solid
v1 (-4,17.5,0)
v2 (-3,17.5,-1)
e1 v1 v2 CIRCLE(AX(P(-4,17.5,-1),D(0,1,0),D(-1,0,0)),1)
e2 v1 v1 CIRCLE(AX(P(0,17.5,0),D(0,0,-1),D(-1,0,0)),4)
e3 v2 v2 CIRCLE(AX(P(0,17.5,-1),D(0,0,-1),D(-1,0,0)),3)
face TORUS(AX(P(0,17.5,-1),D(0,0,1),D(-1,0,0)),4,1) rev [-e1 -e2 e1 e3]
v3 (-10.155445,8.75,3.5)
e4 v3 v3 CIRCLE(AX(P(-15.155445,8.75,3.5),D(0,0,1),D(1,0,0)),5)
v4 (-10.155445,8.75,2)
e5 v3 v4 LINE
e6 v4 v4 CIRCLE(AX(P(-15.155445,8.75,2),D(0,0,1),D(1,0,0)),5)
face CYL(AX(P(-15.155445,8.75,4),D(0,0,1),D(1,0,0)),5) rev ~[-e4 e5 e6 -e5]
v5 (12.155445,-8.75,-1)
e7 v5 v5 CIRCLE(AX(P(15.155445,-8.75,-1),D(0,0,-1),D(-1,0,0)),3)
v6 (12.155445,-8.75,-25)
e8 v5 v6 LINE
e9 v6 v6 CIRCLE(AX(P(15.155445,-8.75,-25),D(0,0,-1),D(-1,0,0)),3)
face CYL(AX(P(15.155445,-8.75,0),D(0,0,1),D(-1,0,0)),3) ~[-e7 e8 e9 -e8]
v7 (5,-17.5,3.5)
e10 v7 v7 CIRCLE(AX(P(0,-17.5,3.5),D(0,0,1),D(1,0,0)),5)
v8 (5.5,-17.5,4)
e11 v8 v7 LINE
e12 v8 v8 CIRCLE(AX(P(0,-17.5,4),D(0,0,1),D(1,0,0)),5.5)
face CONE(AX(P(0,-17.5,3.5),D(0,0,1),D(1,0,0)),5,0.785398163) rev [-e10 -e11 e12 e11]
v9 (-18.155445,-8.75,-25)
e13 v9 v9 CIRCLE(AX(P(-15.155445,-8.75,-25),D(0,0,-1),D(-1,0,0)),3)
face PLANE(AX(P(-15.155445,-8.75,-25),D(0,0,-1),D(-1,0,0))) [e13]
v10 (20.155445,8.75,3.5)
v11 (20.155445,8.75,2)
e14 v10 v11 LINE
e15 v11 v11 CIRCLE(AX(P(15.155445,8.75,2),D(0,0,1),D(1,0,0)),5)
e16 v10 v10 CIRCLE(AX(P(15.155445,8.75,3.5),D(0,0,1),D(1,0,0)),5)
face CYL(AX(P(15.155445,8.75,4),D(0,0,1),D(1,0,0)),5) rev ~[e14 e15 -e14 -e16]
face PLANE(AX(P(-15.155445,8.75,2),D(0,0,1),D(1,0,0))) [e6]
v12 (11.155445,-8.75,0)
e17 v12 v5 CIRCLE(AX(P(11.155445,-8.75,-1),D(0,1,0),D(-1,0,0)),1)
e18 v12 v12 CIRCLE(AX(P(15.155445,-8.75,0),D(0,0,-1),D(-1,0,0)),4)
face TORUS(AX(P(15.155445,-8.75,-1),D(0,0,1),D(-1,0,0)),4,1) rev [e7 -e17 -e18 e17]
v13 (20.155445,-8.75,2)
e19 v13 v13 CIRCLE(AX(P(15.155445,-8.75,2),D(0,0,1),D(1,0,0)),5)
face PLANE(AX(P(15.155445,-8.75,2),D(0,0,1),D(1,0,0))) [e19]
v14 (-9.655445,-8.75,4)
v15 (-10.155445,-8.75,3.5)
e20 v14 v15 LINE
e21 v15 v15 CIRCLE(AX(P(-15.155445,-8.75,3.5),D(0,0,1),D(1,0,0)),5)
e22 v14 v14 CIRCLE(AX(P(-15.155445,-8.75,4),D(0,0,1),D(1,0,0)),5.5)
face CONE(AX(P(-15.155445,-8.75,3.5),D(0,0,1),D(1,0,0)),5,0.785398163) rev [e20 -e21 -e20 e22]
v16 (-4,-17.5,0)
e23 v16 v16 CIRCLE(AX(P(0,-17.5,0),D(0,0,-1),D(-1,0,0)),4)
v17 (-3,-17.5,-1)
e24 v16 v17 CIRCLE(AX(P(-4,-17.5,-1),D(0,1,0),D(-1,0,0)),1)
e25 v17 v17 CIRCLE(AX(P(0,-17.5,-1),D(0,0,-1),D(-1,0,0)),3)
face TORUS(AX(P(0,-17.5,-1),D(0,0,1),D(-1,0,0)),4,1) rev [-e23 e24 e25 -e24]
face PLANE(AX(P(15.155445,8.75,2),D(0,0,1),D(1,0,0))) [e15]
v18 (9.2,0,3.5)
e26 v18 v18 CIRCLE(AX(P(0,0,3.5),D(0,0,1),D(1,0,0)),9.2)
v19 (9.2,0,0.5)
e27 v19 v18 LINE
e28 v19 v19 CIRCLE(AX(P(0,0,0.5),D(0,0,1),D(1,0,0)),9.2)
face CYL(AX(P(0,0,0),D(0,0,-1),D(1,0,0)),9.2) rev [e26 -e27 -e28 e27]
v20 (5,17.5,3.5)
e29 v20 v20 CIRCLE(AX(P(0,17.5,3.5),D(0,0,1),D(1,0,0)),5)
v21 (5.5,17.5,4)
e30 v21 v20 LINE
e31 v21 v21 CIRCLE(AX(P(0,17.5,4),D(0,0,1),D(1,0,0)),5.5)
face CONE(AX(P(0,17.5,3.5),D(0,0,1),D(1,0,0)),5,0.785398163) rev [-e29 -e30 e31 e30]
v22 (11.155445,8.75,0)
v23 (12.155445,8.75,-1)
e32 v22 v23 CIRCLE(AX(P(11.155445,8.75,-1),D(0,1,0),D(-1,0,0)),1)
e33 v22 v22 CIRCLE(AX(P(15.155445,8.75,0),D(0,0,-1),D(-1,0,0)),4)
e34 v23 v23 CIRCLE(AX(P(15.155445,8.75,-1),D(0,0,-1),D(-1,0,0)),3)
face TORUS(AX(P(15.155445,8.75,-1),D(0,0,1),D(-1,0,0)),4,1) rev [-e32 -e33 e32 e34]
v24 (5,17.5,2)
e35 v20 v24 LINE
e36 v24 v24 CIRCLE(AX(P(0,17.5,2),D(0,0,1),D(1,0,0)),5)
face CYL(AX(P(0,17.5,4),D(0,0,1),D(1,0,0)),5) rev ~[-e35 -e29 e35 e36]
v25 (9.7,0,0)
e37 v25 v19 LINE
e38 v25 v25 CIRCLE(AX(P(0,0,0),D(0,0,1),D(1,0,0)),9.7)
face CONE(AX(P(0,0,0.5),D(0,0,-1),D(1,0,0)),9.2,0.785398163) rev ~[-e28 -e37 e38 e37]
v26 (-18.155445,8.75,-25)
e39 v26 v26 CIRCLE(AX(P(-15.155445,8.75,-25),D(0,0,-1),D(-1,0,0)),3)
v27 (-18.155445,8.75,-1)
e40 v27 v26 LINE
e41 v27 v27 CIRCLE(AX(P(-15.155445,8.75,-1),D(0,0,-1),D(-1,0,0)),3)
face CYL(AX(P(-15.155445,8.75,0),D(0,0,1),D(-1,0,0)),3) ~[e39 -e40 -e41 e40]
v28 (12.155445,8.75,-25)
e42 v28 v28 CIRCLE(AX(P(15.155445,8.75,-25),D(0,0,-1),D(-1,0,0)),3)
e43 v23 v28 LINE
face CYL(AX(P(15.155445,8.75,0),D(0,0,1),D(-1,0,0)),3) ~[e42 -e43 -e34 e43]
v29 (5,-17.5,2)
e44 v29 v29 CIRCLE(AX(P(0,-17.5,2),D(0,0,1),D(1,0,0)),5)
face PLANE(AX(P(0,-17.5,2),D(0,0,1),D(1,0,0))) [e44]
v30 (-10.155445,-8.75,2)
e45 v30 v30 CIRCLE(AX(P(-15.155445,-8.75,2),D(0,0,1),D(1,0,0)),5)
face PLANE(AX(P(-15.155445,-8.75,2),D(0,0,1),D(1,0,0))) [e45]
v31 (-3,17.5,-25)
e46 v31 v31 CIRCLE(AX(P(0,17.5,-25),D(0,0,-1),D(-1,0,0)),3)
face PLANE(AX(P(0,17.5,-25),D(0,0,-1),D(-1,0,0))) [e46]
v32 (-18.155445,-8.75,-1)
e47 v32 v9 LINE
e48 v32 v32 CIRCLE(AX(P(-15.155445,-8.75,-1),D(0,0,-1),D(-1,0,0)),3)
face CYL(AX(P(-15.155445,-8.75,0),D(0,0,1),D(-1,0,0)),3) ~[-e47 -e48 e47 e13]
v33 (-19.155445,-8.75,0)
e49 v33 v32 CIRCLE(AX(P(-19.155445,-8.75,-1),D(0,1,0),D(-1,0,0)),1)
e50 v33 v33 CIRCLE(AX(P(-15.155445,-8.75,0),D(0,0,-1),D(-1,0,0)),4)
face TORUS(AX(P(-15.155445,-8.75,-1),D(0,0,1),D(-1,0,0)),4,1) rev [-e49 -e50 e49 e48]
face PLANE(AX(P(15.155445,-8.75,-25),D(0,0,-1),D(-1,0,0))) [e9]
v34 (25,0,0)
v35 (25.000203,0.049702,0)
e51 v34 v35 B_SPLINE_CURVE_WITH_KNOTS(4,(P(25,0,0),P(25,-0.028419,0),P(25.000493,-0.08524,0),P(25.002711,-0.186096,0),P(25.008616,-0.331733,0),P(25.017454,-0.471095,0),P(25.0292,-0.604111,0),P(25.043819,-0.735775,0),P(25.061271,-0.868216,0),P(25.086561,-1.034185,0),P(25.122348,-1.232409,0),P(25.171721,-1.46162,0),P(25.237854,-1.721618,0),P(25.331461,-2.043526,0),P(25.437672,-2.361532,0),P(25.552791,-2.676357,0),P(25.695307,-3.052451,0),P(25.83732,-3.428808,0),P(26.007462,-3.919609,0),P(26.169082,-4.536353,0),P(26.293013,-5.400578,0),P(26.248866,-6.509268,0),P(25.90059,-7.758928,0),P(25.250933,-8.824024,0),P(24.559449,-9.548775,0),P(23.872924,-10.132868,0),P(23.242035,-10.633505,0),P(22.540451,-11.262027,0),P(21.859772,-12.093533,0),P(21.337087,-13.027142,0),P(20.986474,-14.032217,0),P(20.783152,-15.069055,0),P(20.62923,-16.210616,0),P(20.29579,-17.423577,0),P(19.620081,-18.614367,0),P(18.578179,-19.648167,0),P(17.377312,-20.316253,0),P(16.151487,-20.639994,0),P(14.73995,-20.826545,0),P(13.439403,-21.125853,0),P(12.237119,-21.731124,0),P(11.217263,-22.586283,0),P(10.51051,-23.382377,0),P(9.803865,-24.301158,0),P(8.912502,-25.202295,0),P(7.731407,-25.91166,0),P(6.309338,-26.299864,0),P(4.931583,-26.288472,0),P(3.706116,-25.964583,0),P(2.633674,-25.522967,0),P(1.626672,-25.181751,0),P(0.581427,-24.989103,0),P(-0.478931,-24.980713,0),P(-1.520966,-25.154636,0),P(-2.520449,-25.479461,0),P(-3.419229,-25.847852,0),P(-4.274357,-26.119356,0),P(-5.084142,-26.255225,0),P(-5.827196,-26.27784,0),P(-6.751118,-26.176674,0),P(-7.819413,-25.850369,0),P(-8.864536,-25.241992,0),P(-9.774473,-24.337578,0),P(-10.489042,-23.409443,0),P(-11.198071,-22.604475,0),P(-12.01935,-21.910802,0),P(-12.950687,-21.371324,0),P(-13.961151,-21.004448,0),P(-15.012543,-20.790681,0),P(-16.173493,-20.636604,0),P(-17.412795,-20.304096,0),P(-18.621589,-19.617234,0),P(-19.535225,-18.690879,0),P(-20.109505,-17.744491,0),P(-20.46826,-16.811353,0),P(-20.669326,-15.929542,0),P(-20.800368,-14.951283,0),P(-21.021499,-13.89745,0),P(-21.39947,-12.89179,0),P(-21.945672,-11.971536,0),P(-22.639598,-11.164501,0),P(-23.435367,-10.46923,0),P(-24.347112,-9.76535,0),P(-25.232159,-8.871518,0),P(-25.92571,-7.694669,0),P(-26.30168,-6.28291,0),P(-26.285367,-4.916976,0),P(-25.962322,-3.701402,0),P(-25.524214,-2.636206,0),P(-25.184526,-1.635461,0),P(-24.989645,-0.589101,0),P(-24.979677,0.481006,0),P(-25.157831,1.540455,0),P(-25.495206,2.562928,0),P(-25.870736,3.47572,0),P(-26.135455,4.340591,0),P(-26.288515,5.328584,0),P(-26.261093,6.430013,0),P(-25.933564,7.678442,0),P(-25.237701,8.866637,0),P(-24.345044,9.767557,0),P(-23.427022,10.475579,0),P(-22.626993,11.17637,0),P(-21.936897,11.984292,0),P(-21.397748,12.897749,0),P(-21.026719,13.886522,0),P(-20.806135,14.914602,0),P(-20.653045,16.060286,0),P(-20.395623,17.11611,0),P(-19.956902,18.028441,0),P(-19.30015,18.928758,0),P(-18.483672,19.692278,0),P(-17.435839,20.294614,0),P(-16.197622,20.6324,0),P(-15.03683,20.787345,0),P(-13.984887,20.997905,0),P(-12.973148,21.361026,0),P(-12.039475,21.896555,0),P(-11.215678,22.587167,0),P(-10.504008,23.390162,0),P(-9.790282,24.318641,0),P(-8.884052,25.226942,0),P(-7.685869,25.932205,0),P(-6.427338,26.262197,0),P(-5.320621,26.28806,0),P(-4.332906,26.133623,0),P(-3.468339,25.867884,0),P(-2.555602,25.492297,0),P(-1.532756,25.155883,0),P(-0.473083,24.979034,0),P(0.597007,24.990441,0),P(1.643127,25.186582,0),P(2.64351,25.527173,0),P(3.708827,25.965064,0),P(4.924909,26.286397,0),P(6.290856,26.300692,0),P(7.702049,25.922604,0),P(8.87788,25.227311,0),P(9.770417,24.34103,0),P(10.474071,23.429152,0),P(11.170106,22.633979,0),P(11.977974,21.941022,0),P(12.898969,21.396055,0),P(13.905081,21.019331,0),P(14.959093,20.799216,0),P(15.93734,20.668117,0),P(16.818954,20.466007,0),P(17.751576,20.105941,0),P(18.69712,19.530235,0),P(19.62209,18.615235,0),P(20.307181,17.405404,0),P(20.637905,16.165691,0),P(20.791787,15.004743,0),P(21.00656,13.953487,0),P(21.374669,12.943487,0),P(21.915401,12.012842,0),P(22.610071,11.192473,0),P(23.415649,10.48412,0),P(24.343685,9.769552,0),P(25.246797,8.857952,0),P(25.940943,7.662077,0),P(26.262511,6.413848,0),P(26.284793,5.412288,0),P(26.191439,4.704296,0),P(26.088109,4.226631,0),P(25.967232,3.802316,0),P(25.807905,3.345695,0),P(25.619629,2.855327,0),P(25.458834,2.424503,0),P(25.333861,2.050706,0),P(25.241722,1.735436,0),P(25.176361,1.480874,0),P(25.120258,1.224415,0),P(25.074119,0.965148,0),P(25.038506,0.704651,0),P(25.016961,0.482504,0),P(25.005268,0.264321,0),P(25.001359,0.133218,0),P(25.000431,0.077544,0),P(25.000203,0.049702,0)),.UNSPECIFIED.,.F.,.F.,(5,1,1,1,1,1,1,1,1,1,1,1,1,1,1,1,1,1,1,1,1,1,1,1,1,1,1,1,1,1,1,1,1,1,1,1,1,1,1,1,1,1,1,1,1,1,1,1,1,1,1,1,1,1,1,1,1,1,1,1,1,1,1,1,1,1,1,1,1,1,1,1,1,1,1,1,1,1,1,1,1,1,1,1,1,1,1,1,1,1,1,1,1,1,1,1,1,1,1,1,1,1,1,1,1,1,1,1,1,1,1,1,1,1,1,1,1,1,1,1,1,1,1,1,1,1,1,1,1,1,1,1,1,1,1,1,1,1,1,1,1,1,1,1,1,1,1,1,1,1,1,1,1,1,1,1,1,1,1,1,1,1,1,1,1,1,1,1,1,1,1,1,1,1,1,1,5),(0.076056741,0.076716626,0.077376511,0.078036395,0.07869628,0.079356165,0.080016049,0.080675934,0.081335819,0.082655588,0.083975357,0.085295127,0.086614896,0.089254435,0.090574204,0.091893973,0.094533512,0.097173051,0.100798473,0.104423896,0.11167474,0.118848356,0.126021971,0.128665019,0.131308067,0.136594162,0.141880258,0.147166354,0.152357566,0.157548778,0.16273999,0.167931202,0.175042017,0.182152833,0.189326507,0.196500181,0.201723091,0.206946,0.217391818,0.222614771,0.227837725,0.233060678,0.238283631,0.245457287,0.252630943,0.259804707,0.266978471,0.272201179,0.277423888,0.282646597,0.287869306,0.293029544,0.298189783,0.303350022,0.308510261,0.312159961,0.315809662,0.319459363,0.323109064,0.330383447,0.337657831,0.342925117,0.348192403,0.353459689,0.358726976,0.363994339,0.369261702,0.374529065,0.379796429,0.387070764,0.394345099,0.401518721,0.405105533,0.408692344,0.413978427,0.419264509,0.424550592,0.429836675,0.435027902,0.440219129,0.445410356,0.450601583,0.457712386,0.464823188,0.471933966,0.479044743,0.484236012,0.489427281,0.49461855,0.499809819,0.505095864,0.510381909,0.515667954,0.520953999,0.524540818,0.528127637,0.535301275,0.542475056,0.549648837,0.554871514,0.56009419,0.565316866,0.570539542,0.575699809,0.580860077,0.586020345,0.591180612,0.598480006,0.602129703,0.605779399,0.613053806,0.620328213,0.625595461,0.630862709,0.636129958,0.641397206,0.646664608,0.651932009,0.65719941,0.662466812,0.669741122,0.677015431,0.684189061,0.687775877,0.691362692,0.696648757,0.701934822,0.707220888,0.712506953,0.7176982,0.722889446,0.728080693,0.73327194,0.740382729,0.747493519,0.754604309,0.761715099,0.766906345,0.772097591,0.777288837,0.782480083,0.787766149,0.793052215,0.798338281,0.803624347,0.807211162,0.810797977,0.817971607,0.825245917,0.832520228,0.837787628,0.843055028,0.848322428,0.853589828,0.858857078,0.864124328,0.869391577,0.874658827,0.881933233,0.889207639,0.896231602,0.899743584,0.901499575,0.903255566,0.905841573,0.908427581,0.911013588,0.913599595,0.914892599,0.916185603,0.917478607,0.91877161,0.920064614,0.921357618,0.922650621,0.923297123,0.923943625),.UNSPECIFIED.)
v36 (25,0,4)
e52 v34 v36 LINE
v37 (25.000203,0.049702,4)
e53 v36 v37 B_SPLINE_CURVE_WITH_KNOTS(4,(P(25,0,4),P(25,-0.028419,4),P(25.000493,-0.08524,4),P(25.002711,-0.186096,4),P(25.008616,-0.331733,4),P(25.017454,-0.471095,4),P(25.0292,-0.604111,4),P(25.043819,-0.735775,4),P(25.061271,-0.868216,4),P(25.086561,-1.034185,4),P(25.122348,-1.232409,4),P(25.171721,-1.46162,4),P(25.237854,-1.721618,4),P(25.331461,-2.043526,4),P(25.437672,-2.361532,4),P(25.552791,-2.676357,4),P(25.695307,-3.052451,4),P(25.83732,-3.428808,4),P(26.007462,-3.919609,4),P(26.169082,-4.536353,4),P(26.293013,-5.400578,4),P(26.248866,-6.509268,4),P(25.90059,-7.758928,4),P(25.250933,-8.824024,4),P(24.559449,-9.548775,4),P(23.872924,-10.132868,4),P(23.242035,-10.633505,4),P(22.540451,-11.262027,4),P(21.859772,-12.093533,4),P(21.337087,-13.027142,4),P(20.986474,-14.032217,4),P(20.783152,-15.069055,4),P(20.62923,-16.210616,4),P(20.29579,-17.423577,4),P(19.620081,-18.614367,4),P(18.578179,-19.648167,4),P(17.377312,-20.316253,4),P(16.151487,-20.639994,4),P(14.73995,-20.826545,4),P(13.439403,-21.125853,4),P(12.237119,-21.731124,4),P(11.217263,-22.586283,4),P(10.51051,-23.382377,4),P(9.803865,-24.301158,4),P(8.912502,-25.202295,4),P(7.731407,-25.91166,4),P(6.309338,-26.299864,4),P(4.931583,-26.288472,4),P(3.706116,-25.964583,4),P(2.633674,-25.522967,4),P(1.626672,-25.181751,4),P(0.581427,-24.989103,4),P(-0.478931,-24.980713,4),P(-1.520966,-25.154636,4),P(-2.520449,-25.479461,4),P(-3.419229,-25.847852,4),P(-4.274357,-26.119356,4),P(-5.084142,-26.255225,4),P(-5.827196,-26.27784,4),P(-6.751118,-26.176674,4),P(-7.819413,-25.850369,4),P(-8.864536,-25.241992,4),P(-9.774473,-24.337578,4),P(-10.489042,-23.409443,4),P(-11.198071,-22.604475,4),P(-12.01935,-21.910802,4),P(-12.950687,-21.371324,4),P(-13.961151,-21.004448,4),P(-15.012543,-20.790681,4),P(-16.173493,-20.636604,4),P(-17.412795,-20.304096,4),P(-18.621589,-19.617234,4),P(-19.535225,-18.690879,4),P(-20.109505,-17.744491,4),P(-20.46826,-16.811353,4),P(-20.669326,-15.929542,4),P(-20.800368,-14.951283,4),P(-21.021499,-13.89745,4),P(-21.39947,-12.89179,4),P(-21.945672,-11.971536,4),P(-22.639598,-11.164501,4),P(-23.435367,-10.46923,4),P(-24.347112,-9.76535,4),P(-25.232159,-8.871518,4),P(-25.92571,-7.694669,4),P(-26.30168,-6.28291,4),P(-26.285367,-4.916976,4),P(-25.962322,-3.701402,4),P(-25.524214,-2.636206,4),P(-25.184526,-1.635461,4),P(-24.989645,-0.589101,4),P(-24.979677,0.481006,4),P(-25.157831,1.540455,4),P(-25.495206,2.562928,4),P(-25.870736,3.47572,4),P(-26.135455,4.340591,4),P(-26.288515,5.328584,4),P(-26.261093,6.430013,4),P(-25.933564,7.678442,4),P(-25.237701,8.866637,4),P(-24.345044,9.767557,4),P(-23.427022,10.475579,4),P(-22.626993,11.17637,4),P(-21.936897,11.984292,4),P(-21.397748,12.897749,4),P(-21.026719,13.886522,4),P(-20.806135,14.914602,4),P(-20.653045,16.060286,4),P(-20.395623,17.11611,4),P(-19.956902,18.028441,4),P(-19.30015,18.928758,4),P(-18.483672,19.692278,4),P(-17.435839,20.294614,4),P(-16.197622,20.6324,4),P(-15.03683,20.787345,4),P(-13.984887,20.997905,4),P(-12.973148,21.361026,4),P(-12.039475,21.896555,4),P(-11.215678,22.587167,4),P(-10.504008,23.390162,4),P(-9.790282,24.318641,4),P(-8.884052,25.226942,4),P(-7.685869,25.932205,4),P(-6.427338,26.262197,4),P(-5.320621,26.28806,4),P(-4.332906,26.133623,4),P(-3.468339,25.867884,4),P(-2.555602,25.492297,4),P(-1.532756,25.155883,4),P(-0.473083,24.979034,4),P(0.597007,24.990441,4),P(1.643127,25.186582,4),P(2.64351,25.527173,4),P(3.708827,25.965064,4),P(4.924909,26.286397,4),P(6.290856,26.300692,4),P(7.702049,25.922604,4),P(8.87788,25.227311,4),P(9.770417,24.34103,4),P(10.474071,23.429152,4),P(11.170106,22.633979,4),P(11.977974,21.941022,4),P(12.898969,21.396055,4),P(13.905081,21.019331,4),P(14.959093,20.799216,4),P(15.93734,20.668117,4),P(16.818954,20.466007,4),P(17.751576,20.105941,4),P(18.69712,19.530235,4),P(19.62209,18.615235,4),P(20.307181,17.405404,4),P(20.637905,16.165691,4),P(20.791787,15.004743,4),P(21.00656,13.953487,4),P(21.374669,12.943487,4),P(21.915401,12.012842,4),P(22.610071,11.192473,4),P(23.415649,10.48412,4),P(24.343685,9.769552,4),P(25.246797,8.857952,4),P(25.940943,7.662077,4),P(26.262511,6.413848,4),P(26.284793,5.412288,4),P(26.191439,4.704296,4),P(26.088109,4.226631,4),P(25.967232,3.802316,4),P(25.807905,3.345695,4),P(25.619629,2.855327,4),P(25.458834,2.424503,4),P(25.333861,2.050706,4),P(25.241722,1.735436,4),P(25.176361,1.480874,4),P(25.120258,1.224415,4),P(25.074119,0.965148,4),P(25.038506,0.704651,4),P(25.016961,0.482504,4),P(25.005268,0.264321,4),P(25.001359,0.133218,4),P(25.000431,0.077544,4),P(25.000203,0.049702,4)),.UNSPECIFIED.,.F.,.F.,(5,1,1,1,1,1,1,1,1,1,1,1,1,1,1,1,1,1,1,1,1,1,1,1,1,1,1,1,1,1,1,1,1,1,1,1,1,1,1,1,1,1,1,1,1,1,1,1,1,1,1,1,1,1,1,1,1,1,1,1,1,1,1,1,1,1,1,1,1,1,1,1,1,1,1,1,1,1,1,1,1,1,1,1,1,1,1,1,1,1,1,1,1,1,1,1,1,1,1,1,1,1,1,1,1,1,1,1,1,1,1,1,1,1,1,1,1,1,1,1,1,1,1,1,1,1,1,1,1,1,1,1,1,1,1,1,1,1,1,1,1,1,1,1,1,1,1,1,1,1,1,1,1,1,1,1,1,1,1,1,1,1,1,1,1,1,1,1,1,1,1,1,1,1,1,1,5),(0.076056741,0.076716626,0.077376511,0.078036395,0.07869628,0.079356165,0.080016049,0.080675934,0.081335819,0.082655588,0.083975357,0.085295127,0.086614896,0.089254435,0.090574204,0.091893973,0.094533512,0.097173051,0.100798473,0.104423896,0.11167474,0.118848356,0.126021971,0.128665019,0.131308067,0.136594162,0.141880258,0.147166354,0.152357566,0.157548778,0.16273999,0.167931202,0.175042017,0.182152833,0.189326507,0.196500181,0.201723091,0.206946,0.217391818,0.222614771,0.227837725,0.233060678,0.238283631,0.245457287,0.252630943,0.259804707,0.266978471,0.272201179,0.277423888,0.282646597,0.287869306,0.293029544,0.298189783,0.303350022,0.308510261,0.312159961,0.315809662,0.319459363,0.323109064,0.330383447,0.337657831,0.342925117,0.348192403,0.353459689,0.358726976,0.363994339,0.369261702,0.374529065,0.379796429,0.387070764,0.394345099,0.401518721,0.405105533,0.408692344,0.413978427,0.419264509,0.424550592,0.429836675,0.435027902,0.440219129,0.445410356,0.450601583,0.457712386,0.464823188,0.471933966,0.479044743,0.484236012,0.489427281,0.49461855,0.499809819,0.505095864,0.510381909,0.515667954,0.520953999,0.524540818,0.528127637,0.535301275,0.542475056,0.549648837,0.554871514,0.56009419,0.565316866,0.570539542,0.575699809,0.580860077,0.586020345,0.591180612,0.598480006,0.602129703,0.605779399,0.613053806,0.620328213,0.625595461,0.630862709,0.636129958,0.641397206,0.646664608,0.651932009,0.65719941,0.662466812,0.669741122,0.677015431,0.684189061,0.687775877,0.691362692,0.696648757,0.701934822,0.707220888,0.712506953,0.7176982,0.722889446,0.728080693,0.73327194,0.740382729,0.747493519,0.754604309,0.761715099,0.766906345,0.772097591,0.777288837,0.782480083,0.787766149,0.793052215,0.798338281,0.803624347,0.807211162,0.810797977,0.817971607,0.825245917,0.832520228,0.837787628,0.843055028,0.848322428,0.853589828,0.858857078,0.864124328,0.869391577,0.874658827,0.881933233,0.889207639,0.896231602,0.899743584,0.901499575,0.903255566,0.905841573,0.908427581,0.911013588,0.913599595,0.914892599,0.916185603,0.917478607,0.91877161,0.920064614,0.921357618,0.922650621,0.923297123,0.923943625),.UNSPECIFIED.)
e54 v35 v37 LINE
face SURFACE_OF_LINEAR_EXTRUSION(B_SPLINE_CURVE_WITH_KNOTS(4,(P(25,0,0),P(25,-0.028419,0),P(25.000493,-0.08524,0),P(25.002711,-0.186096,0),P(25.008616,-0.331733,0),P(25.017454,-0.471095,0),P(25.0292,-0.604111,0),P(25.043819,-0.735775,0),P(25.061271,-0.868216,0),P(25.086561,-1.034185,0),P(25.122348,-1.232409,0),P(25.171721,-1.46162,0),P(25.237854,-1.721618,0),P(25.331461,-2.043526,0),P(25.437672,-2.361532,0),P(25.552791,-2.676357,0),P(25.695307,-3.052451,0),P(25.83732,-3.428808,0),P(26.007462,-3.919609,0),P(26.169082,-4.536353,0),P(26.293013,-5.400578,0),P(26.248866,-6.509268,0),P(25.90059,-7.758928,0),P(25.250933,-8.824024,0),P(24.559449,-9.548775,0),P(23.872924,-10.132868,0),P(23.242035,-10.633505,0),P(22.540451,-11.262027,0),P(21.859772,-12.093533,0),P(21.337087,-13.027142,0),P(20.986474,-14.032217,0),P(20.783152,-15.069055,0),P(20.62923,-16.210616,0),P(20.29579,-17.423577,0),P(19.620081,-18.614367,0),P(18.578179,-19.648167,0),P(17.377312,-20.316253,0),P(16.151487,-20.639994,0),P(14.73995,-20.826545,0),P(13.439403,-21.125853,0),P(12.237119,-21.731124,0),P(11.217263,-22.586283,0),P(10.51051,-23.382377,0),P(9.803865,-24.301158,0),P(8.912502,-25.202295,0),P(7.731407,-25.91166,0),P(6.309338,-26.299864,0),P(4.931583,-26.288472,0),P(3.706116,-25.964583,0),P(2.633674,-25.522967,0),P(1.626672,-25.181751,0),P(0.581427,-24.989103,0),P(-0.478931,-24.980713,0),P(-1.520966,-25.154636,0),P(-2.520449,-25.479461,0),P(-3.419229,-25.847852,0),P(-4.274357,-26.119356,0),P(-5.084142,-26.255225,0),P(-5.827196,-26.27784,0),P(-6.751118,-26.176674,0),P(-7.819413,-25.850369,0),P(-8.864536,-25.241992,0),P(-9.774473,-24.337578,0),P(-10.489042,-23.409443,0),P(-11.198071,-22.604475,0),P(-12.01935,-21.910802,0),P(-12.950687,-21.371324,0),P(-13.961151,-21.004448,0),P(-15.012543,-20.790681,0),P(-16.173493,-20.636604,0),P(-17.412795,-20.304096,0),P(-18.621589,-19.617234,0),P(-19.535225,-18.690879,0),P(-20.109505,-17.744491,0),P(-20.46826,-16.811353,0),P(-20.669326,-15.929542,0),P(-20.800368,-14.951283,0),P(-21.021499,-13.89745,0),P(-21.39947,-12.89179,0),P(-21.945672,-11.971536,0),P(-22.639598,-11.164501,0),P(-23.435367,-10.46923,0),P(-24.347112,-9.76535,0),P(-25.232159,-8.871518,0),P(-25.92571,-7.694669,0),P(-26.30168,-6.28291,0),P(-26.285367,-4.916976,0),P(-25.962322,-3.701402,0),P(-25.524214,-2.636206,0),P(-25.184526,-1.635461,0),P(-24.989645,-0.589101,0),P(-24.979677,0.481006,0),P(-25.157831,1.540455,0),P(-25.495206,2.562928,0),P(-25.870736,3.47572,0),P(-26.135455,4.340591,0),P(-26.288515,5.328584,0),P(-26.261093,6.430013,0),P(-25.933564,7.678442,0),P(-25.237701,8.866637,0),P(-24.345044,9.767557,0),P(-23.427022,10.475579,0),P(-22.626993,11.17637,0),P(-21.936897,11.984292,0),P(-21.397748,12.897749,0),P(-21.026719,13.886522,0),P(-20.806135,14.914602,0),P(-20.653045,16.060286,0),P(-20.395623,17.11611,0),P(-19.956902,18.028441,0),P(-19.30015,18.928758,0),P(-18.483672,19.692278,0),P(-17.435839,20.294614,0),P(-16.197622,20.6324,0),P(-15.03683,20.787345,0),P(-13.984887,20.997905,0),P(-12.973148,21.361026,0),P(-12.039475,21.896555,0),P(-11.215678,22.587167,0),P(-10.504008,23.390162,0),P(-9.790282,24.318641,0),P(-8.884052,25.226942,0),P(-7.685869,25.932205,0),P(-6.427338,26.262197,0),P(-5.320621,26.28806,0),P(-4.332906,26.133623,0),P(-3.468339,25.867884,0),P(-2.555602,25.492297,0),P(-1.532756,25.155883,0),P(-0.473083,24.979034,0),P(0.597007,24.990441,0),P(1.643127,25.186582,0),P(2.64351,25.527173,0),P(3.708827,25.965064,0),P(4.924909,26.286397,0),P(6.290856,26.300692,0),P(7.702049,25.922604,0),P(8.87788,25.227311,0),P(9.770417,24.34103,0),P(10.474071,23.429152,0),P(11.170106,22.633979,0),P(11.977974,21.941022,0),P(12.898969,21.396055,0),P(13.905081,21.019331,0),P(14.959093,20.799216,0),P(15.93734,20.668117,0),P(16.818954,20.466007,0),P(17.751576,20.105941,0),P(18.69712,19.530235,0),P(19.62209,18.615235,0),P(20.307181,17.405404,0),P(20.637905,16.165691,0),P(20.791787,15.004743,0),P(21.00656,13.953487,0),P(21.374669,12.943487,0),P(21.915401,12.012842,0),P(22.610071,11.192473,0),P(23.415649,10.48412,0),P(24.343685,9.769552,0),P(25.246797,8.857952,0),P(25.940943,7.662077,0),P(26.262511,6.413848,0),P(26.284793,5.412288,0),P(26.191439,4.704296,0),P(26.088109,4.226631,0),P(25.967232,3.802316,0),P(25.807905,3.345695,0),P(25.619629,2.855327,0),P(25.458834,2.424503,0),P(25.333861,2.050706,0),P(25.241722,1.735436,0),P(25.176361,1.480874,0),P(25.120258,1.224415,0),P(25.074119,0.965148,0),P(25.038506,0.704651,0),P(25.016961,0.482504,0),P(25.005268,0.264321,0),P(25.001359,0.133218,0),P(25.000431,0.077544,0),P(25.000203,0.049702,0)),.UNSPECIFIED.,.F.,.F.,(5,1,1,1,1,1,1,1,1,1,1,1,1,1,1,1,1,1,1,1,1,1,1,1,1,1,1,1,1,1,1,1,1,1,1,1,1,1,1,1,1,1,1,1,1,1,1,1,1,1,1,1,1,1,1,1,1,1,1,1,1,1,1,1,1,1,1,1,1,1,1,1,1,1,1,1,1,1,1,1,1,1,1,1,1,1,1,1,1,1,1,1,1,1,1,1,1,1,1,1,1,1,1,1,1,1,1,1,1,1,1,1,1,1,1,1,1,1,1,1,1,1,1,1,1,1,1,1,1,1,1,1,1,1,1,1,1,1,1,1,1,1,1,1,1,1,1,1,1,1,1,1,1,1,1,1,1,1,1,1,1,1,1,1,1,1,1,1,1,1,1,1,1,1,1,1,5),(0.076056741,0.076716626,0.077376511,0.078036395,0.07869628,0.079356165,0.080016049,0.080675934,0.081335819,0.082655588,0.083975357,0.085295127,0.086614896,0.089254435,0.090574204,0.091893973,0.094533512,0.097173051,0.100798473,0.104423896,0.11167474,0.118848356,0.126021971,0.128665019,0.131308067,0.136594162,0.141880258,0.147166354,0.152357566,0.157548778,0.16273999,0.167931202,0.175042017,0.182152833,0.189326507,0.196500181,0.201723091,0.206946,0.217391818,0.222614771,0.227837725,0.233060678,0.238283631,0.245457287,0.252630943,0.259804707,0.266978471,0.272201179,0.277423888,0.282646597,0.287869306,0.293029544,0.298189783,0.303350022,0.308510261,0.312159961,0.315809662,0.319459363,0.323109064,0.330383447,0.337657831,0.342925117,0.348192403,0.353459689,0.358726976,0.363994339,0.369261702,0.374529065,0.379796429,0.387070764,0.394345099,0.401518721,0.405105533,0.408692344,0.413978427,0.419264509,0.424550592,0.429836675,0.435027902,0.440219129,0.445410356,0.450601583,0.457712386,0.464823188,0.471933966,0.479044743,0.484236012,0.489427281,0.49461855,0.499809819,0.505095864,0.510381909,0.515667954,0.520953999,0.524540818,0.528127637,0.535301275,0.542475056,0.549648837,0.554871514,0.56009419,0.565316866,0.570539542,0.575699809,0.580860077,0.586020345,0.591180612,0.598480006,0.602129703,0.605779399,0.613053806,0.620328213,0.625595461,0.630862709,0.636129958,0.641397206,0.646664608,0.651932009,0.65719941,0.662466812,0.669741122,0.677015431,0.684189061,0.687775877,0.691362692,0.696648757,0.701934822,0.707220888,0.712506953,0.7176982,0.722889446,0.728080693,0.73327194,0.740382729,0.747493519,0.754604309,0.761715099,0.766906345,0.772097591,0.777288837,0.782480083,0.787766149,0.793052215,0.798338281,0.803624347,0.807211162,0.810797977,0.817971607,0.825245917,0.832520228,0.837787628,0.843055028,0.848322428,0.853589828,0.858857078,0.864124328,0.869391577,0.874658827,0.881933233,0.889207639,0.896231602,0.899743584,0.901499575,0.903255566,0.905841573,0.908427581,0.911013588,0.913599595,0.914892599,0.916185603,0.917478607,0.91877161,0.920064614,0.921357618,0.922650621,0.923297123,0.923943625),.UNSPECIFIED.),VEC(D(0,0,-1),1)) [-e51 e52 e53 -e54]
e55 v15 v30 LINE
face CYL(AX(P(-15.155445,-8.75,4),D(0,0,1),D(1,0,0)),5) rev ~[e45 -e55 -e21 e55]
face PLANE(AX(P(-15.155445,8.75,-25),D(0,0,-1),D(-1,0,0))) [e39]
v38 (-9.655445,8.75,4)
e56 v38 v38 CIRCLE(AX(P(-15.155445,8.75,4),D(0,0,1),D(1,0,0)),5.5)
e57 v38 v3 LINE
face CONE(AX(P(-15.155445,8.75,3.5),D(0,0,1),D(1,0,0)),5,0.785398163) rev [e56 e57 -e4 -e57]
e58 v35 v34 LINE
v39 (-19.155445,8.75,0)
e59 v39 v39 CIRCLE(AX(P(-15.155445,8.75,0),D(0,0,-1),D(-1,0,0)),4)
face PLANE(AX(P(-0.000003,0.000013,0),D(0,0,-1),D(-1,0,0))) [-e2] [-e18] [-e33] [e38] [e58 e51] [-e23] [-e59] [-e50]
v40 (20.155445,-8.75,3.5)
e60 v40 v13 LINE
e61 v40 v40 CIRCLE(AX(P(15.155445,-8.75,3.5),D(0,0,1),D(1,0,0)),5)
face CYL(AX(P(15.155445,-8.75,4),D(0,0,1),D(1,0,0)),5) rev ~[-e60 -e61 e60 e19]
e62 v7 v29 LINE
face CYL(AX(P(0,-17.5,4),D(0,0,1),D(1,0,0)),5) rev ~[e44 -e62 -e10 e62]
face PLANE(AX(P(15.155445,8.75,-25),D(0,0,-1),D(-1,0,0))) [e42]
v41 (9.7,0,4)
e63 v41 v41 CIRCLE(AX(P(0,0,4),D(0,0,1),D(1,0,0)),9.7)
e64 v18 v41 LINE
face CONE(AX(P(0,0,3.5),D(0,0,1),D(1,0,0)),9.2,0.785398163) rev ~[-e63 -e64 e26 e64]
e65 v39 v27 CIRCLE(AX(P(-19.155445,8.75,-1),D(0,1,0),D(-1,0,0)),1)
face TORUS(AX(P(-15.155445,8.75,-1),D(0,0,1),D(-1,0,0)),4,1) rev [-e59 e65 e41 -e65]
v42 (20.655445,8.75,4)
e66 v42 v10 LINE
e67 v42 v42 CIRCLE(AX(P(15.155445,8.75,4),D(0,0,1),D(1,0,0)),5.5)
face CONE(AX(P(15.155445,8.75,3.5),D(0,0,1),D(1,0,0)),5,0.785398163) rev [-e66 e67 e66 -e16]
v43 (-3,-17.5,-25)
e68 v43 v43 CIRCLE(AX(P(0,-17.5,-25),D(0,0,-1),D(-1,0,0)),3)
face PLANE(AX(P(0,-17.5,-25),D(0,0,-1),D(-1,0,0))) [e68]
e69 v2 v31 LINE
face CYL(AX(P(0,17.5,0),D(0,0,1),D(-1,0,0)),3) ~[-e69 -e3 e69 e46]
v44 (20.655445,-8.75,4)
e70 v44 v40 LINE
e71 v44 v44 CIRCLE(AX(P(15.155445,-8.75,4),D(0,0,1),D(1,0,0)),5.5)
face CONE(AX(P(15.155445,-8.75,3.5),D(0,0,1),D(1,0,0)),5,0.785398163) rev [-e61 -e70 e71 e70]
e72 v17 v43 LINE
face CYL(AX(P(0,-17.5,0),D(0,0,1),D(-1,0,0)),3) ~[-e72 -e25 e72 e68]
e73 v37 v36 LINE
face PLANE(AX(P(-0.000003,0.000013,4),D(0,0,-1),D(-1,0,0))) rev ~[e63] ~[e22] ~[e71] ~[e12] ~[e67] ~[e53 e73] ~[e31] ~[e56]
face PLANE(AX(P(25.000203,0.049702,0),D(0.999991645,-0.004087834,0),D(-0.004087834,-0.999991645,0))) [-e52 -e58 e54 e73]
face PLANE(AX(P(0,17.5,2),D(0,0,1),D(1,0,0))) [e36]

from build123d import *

# Parameters (mm, degrees)
SKETCH3_R           = 9.2
BOSS_EXTRUDE2_DEPTH = 4
SKETCH7_R           = 3
BOSS_EXTRUDE3_DEPTH = 25
SKETCH6_R           = 5
CUT_EXTRUDE2_DEPTH  = 2
FILLET1_R           = 1
CHAMFER1_SIZE       = 0.5


with BuildPart() as part:
    # Sketch3 → Boss-Extrude2 (new body)
    with BuildSketch(Plane.XY):
        with BuildLine():
            add(Edge.make_bspline(
                [(25, 0), (25, -0.028419379), (25.000492821, -0.085240091), (25.002710517, -0.186096381), (25.008616202, -0.331732724), (25.017454216, -0.471095426), (25.029199756, -0.604110594), (25.043819456, -0.735775062), (25.0612711, -0.868216065), (25.086561311, -1.034185241), (25.122348392, -1.232409452), (25.171720804, -1.461619521), (25.23785416, -1.72161835), (25.33146082, -2.043525868), (25.437671669, -2.361532194), (25.552791346, -2.676356937), (25.69530689, -3.052450734), (25.837320412, -3.428807717), (26.007461604, -3.919608843), (26.169082038, -4.536352918), (26.29301302, -5.400577617), (26.248865742, -6.509268079), (25.900590468, -7.758927573), (25.250933039, -8.824024045), (24.559448754, -9.548775191), (23.872924134, -10.132867754), (23.242034799, -10.633504856), (22.540451444, -11.262027255), (21.859772382, -12.093532725), (21.337087227, -13.027141562), (20.986474338, -14.032216693), (20.783152218, -15.069054613), (20.629229677, -16.210615672), (20.295790024, -17.423577203), (19.620081418, -18.614367157), (18.57817853, -19.648167397), (17.377311503, -20.316253266), (16.151486918, -20.639994045), (14.739949908, -20.826544524), (13.439402762, -21.1258531), (12.23711891, -21.731124361), (11.217263285, -22.586282659), (10.510510486, -23.382376891), (9.803864636, -24.301158332), (8.912502074, -25.202295013), (7.731407454, -25.911659846), (6.309337856, -26.299864083), (4.931582798, -26.288472232), (3.706115601, -25.964583322), (2.633674004, -25.522967435), (1.62667227, -25.181750578), (0.581426656, -24.989102643), (-0.478930933, -24.980713481), (-1.520966388, -25.154635937), (-2.520449471, -25.479461333), (-3.419229104, -25.84785235), (-4.274357012, -26.11935553), (-5.084141891, -26.255225085), (-5.827195666, -26.277840049), (-6.751118437, -26.176673588), (-7.819413481, -25.850368791), (-8.864535557, -25.241992085), (-9.774472842, -24.337578456), (-10.489042176, -23.409443312), (-11.198070814, -22.604475083), (-12.019349647, -21.910802096), (-12.950687048, -21.371323607), (-13.961150534, -21.004447957), (-15.012542859, -20.790681073), (-16.17349347, -20.636604415), (-17.412795128, -20.30409628), (-18.621589199, -19.617234196), (-19.535225069, -18.69087907), (-20.109505434, -17.744490957), (-20.468260184, -16.811352879), (-20.669325741, -15.929542243), (-20.800368009, -14.951283195), (-21.021499046, -13.897450049), (-21.399469544, -12.891789727), (-21.945671579, -11.971536034), (-22.639598338, -11.164500934), (-23.435367487, -10.469229858), (-24.347111984, -9.765350187), (-25.232158972, -8.871517572), (-25.925709908, -7.694669196), (-26.301679816, -6.282910402), (-26.285367064, -4.916976266), (-25.96232166, -3.701401982), (-25.524214021, -2.636206013), (-25.184526072, -1.63546138), (-24.98964456, -0.589100982), (-24.979676648, 0.481005828), (-25.157831343, 1.540454587), (-25.495205931, 2.562927815), (-25.870736407, 3.4757204), (-26.135455064, 4.34059116), (-26.288515222, 5.328583568), (-26.261093111, 6.43001327), (-25.933564455, 7.678441647), (-25.237701394, 8.866637346), (-24.34504384, 9.767557339), (-23.427022399, 10.47557852), (-22.62699323, 11.1763696), (-21.936896568, 11.984292454), (-21.397747575, 12.897748952), (-21.026718925, 13.886522177), (-20.806135146, 14.914602211), (-20.653045268, 16.060286336), (-20.395622874, 17.11611043), (-19.95690194, 18.028441349), (-19.300149626, 18.928757994), (-18.483671803, 19.692277913), (-17.435839429, 20.294614033), (-16.197622229, 20.632400397), (-15.036829757, 20.787344769), (-13.984887122, 20.997904882), (-12.973147938, 21.361026229), (-12.039474616, 21.896555136), (-11.215678135, 22.58716662), (-10.504008287, 23.390162439), (-9.790282182, 24.318640694), (-8.884052218, 25.226941722), (-7.685868846, 25.932204762), (-6.427337904, 26.262197332), (-5.32062142, 26.288060185), (-4.332905845, 26.133623194), (-3.468339345, 25.867884001), (-2.55560208, 25.492296977), (-1.532755887, 25.155882506), (-0.473083435, 24.979033961), (0.597006536, 24.990441303), (1.643127458, 25.186582226), (2.643510183, 25.527172752), (3.708827205, 25.965063812), (4.924909383, 26.286396603), (6.29085556, 26.300692327), (7.702048601, 25.922603812), (8.877880267, 25.227310889), (9.770417048, 24.341030317), (10.474070774, 23.429151565), (11.170105737, 22.633979321), (11.977973527, 21.941022037), (12.898969216, 21.396054985), (13.905080963, 21.019330701), (14.959093015, 20.79921578), (15.93734026, 20.668117182), (16.818953838, 20.466007301), (17.751576334, 20.105941467), (18.697120313, 19.53023506), (19.622089623, 18.615234931), (20.307180817, 17.405403853), (20.637904711, 16.165690953), (20.791787115, 15.004742729), (21.00656033, 13.953487), (21.374668771, 12.943487437), (21.915401419, 12.012841988), (22.610070929, 11.192473379), (23.415648604, 10.48411951), (24.343684699, 9.769551905), (25.246796647, 8.857951736), (25.940942688, 7.662077141), (26.262511444, 6.413848041), (26.28479299, 5.412288327), (26.191439435, 4.704296235), (26.088108997, 4.226630913), (25.967232391, 3.802316147), (25.80790495, 3.345695262), (25.619629464, 2.855327013), (25.458833672, 2.424502992), (25.333860765, 2.050706314), (25.241721849, 1.735435761), (25.176361339, 1.480873774), (25.120257899, 1.224415288), (25.074119122, 0.965148365), (25.038505918, 0.70465122), (25.016960864, 0.482504301), (25.005267885, 0.264321243), (25.00135895, 0.133217809), (25.000430803, 0.077544036), (25.000203175, 0.049701947)],
                knots=[0.076056741, 0.076056741, 0.076056741, 0.076056741, 0.076056741, 0.076716626, 0.077376511, 0.078036395, 0.07869628, 0.079356165, 0.080016049, 0.080675934, 0.081335819, 0.082655588, 0.083975357, 0.085295127, 0.086614896, 0.089254435, 0.090574204, 0.091893973, 0.094533512, 0.097173051, 0.100798473, 0.104423896, 0.11167474, 0.118848356, 0.126021971, 0.128665019, 0.131308067, 0.136594162, 0.141880258, 0.147166354, 0.152357566, 0.157548778, 0.16273999, 0.167931202, 0.175042017, 0.182152833, 0.189326507, 0.196500181, 0.201723091, 0.206946, 0.217391818, 0.222614771, 0.227837725, 0.233060678, 0.238283631, 0.245457287, 0.252630943, 0.259804707, 0.266978471, 0.272201179, 0.277423888, 0.282646597, 0.287869306, 0.293029544, 0.298189783, 0.303350022, 0.308510261, 0.312159961, 0.315809662, 0.319459363, 0.323109064, 0.330383447, 0.337657831, 0.342925117, 0.348192403, 0.353459689, 0.358726976, 0.363994339, 0.369261702, 0.374529065, 0.379796429, 0.387070764, 0.394345099, 0.401518721, 0.405105533, 0.408692344, 0.413978427, 0.419264509, 0.424550592, 0.429836675, 0.435027902, 0.440219129, 0.445410356, 0.450601583, 0.457712386, 0.464823188, 0.471933966, 0.479044743, 0.484236012, 0.489427281, 0.49461855, 0.499809819, 0.505095864, 0.510381909, 0.515667954, 0.520953999, 0.524540818, 0.528127637, 0.535301275, 0.542475056, 0.549648837, 0.554871514, 0.56009419, 0.565316866, 0.570539542, 0.575699809, 0.580860077, 0.586020345, 0.591180612, 0.598480006, 0.602129703, 0.605779399, 0.613053806, 0.620328213, 0.625595461, 0.630862709, 0.636129958, 0.641397206, 0.646664608, 0.651932009, 0.65719941, 0.662466812, 0.669741122, 0.677015431, 0.684189061, 0.687775877, 0.691362692, 0.696648757, 0.701934822, 0.707220888, 0.712506953, 0.7176982, 0.722889446, 0.728080693, 0.73327194, 0.740382729, 0.747493519, 0.754604309, 0.761715099, 0.766906345, 0.772097591, 0.777288837, 0.782480083, 0.787766149, 0.793052215, 0.798338281, 0.803624347, 0.807211162, 0.810797977, 0.817971607, 0.825245917, 0.832520228, 0.837787628, 0.843055028, 0.848322428, 0.853589828, 0.858857078, 0.864124328, 0.869391577, 0.874658827, 0.881933233, 0.889207639, 0.896231602, 0.899743584, 0.901499575, 0.903255566, 0.905841573, 0.908427581, 0.911013588, 0.913599595, 0.914892599, 0.916185603, 0.917478607, 0.91877161, 0.920064614, 0.921357618, 0.922650621, 0.923297123, 0.923943625, 0.923943625, 0.923943625, 0.923943625, 0.923943625], degree=4))
            Line((25.000203175, 0.049701947), (25, 0))
        make_face()
        Circle(SKETCH3_R, mode=Mode.SUBTRACT)
    extrude(amount=BOSS_EXTRUDE2_DEPTH)

    # Sketch7 → Boss-Extrude3 (add)
    with BuildSketch(Plane(origin=(0, 0, 0), x_dir=(-1, 0, 0), z_dir=(0, 0, -1))):
        with Locations((0, 17.5)):
            Circle(SKETCH7_R)
        with Locations((15.155444566, 8.75)):
            Circle(SKETCH7_R)
        with Locations((15.155444566, -8.75)):
            Circle(SKETCH7_R)
        with Locations((0, -17.5)):
            Circle(SKETCH7_R)
        with Locations((-15.155444566, -8.75)):
            Circle(SKETCH7_R)
        with Locations((-15.155444566, 8.75)):
            Circle(SKETCH7_R)
    extrude(amount=BOSS_EXTRUDE3_DEPTH)

    # Sketch6 → Cut-Extrude2 (cut)
    with BuildSketch(Plane.XY.offset(4)):
        with Locations((15.155444566, -8.75)):
            Circle(SKETCH6_R)
        with Locations((0, -17.5)):
            Circle(SKETCH6_R)
        with Locations((-15.155444566, -8.75)):
            Circle(SKETCH6_R)
        with Locations((15.155444566, 8.75)):
            Circle(SKETCH6_R)
        with Locations((0, 17.5)):
            Circle(SKETCH6_R)
        with Locations((-15.155444566, 8.75)):
            Circle(SKETCH6_R)
    extrude(amount=-CUT_EXTRUDE2_DEPTH, mode=Mode.SUBTRACT)

    # Fillet1
    fillet1_edges = [part.edges().sort_by_distance(p)[0] for p in [
        (-12.155444566, -8.75, 0),
        (3, 17.5, 0),
        (18.155444566, 8.75, 0),
        (18.155444566, -8.75, 0),
        (3, -17.5, 0),
        (-12.155444566, 8.75, 0),
    ]]
    fillet(fillet1_edges, radius=FILLET1_R)

    # Chamfer1
    chamfer1_edges = [part.edges().sort_by_distance(p)[0] for p in [
        (-5, -17.5, 4),
        (-20.155444566, -8.75, 4),
        (10.155444566, 8.75, 4),
        (-5, 17.5, 4),
        (-20.155444566, 8.75, 4),
        (10.155444566, -8.75, 4),
        (-9.2, 0, 0),
        (-9.2, 0, 4),
    ]]
    chamfer(chamfer1_edges, length=CHAMFER1_SIZE)


solid = part.part
